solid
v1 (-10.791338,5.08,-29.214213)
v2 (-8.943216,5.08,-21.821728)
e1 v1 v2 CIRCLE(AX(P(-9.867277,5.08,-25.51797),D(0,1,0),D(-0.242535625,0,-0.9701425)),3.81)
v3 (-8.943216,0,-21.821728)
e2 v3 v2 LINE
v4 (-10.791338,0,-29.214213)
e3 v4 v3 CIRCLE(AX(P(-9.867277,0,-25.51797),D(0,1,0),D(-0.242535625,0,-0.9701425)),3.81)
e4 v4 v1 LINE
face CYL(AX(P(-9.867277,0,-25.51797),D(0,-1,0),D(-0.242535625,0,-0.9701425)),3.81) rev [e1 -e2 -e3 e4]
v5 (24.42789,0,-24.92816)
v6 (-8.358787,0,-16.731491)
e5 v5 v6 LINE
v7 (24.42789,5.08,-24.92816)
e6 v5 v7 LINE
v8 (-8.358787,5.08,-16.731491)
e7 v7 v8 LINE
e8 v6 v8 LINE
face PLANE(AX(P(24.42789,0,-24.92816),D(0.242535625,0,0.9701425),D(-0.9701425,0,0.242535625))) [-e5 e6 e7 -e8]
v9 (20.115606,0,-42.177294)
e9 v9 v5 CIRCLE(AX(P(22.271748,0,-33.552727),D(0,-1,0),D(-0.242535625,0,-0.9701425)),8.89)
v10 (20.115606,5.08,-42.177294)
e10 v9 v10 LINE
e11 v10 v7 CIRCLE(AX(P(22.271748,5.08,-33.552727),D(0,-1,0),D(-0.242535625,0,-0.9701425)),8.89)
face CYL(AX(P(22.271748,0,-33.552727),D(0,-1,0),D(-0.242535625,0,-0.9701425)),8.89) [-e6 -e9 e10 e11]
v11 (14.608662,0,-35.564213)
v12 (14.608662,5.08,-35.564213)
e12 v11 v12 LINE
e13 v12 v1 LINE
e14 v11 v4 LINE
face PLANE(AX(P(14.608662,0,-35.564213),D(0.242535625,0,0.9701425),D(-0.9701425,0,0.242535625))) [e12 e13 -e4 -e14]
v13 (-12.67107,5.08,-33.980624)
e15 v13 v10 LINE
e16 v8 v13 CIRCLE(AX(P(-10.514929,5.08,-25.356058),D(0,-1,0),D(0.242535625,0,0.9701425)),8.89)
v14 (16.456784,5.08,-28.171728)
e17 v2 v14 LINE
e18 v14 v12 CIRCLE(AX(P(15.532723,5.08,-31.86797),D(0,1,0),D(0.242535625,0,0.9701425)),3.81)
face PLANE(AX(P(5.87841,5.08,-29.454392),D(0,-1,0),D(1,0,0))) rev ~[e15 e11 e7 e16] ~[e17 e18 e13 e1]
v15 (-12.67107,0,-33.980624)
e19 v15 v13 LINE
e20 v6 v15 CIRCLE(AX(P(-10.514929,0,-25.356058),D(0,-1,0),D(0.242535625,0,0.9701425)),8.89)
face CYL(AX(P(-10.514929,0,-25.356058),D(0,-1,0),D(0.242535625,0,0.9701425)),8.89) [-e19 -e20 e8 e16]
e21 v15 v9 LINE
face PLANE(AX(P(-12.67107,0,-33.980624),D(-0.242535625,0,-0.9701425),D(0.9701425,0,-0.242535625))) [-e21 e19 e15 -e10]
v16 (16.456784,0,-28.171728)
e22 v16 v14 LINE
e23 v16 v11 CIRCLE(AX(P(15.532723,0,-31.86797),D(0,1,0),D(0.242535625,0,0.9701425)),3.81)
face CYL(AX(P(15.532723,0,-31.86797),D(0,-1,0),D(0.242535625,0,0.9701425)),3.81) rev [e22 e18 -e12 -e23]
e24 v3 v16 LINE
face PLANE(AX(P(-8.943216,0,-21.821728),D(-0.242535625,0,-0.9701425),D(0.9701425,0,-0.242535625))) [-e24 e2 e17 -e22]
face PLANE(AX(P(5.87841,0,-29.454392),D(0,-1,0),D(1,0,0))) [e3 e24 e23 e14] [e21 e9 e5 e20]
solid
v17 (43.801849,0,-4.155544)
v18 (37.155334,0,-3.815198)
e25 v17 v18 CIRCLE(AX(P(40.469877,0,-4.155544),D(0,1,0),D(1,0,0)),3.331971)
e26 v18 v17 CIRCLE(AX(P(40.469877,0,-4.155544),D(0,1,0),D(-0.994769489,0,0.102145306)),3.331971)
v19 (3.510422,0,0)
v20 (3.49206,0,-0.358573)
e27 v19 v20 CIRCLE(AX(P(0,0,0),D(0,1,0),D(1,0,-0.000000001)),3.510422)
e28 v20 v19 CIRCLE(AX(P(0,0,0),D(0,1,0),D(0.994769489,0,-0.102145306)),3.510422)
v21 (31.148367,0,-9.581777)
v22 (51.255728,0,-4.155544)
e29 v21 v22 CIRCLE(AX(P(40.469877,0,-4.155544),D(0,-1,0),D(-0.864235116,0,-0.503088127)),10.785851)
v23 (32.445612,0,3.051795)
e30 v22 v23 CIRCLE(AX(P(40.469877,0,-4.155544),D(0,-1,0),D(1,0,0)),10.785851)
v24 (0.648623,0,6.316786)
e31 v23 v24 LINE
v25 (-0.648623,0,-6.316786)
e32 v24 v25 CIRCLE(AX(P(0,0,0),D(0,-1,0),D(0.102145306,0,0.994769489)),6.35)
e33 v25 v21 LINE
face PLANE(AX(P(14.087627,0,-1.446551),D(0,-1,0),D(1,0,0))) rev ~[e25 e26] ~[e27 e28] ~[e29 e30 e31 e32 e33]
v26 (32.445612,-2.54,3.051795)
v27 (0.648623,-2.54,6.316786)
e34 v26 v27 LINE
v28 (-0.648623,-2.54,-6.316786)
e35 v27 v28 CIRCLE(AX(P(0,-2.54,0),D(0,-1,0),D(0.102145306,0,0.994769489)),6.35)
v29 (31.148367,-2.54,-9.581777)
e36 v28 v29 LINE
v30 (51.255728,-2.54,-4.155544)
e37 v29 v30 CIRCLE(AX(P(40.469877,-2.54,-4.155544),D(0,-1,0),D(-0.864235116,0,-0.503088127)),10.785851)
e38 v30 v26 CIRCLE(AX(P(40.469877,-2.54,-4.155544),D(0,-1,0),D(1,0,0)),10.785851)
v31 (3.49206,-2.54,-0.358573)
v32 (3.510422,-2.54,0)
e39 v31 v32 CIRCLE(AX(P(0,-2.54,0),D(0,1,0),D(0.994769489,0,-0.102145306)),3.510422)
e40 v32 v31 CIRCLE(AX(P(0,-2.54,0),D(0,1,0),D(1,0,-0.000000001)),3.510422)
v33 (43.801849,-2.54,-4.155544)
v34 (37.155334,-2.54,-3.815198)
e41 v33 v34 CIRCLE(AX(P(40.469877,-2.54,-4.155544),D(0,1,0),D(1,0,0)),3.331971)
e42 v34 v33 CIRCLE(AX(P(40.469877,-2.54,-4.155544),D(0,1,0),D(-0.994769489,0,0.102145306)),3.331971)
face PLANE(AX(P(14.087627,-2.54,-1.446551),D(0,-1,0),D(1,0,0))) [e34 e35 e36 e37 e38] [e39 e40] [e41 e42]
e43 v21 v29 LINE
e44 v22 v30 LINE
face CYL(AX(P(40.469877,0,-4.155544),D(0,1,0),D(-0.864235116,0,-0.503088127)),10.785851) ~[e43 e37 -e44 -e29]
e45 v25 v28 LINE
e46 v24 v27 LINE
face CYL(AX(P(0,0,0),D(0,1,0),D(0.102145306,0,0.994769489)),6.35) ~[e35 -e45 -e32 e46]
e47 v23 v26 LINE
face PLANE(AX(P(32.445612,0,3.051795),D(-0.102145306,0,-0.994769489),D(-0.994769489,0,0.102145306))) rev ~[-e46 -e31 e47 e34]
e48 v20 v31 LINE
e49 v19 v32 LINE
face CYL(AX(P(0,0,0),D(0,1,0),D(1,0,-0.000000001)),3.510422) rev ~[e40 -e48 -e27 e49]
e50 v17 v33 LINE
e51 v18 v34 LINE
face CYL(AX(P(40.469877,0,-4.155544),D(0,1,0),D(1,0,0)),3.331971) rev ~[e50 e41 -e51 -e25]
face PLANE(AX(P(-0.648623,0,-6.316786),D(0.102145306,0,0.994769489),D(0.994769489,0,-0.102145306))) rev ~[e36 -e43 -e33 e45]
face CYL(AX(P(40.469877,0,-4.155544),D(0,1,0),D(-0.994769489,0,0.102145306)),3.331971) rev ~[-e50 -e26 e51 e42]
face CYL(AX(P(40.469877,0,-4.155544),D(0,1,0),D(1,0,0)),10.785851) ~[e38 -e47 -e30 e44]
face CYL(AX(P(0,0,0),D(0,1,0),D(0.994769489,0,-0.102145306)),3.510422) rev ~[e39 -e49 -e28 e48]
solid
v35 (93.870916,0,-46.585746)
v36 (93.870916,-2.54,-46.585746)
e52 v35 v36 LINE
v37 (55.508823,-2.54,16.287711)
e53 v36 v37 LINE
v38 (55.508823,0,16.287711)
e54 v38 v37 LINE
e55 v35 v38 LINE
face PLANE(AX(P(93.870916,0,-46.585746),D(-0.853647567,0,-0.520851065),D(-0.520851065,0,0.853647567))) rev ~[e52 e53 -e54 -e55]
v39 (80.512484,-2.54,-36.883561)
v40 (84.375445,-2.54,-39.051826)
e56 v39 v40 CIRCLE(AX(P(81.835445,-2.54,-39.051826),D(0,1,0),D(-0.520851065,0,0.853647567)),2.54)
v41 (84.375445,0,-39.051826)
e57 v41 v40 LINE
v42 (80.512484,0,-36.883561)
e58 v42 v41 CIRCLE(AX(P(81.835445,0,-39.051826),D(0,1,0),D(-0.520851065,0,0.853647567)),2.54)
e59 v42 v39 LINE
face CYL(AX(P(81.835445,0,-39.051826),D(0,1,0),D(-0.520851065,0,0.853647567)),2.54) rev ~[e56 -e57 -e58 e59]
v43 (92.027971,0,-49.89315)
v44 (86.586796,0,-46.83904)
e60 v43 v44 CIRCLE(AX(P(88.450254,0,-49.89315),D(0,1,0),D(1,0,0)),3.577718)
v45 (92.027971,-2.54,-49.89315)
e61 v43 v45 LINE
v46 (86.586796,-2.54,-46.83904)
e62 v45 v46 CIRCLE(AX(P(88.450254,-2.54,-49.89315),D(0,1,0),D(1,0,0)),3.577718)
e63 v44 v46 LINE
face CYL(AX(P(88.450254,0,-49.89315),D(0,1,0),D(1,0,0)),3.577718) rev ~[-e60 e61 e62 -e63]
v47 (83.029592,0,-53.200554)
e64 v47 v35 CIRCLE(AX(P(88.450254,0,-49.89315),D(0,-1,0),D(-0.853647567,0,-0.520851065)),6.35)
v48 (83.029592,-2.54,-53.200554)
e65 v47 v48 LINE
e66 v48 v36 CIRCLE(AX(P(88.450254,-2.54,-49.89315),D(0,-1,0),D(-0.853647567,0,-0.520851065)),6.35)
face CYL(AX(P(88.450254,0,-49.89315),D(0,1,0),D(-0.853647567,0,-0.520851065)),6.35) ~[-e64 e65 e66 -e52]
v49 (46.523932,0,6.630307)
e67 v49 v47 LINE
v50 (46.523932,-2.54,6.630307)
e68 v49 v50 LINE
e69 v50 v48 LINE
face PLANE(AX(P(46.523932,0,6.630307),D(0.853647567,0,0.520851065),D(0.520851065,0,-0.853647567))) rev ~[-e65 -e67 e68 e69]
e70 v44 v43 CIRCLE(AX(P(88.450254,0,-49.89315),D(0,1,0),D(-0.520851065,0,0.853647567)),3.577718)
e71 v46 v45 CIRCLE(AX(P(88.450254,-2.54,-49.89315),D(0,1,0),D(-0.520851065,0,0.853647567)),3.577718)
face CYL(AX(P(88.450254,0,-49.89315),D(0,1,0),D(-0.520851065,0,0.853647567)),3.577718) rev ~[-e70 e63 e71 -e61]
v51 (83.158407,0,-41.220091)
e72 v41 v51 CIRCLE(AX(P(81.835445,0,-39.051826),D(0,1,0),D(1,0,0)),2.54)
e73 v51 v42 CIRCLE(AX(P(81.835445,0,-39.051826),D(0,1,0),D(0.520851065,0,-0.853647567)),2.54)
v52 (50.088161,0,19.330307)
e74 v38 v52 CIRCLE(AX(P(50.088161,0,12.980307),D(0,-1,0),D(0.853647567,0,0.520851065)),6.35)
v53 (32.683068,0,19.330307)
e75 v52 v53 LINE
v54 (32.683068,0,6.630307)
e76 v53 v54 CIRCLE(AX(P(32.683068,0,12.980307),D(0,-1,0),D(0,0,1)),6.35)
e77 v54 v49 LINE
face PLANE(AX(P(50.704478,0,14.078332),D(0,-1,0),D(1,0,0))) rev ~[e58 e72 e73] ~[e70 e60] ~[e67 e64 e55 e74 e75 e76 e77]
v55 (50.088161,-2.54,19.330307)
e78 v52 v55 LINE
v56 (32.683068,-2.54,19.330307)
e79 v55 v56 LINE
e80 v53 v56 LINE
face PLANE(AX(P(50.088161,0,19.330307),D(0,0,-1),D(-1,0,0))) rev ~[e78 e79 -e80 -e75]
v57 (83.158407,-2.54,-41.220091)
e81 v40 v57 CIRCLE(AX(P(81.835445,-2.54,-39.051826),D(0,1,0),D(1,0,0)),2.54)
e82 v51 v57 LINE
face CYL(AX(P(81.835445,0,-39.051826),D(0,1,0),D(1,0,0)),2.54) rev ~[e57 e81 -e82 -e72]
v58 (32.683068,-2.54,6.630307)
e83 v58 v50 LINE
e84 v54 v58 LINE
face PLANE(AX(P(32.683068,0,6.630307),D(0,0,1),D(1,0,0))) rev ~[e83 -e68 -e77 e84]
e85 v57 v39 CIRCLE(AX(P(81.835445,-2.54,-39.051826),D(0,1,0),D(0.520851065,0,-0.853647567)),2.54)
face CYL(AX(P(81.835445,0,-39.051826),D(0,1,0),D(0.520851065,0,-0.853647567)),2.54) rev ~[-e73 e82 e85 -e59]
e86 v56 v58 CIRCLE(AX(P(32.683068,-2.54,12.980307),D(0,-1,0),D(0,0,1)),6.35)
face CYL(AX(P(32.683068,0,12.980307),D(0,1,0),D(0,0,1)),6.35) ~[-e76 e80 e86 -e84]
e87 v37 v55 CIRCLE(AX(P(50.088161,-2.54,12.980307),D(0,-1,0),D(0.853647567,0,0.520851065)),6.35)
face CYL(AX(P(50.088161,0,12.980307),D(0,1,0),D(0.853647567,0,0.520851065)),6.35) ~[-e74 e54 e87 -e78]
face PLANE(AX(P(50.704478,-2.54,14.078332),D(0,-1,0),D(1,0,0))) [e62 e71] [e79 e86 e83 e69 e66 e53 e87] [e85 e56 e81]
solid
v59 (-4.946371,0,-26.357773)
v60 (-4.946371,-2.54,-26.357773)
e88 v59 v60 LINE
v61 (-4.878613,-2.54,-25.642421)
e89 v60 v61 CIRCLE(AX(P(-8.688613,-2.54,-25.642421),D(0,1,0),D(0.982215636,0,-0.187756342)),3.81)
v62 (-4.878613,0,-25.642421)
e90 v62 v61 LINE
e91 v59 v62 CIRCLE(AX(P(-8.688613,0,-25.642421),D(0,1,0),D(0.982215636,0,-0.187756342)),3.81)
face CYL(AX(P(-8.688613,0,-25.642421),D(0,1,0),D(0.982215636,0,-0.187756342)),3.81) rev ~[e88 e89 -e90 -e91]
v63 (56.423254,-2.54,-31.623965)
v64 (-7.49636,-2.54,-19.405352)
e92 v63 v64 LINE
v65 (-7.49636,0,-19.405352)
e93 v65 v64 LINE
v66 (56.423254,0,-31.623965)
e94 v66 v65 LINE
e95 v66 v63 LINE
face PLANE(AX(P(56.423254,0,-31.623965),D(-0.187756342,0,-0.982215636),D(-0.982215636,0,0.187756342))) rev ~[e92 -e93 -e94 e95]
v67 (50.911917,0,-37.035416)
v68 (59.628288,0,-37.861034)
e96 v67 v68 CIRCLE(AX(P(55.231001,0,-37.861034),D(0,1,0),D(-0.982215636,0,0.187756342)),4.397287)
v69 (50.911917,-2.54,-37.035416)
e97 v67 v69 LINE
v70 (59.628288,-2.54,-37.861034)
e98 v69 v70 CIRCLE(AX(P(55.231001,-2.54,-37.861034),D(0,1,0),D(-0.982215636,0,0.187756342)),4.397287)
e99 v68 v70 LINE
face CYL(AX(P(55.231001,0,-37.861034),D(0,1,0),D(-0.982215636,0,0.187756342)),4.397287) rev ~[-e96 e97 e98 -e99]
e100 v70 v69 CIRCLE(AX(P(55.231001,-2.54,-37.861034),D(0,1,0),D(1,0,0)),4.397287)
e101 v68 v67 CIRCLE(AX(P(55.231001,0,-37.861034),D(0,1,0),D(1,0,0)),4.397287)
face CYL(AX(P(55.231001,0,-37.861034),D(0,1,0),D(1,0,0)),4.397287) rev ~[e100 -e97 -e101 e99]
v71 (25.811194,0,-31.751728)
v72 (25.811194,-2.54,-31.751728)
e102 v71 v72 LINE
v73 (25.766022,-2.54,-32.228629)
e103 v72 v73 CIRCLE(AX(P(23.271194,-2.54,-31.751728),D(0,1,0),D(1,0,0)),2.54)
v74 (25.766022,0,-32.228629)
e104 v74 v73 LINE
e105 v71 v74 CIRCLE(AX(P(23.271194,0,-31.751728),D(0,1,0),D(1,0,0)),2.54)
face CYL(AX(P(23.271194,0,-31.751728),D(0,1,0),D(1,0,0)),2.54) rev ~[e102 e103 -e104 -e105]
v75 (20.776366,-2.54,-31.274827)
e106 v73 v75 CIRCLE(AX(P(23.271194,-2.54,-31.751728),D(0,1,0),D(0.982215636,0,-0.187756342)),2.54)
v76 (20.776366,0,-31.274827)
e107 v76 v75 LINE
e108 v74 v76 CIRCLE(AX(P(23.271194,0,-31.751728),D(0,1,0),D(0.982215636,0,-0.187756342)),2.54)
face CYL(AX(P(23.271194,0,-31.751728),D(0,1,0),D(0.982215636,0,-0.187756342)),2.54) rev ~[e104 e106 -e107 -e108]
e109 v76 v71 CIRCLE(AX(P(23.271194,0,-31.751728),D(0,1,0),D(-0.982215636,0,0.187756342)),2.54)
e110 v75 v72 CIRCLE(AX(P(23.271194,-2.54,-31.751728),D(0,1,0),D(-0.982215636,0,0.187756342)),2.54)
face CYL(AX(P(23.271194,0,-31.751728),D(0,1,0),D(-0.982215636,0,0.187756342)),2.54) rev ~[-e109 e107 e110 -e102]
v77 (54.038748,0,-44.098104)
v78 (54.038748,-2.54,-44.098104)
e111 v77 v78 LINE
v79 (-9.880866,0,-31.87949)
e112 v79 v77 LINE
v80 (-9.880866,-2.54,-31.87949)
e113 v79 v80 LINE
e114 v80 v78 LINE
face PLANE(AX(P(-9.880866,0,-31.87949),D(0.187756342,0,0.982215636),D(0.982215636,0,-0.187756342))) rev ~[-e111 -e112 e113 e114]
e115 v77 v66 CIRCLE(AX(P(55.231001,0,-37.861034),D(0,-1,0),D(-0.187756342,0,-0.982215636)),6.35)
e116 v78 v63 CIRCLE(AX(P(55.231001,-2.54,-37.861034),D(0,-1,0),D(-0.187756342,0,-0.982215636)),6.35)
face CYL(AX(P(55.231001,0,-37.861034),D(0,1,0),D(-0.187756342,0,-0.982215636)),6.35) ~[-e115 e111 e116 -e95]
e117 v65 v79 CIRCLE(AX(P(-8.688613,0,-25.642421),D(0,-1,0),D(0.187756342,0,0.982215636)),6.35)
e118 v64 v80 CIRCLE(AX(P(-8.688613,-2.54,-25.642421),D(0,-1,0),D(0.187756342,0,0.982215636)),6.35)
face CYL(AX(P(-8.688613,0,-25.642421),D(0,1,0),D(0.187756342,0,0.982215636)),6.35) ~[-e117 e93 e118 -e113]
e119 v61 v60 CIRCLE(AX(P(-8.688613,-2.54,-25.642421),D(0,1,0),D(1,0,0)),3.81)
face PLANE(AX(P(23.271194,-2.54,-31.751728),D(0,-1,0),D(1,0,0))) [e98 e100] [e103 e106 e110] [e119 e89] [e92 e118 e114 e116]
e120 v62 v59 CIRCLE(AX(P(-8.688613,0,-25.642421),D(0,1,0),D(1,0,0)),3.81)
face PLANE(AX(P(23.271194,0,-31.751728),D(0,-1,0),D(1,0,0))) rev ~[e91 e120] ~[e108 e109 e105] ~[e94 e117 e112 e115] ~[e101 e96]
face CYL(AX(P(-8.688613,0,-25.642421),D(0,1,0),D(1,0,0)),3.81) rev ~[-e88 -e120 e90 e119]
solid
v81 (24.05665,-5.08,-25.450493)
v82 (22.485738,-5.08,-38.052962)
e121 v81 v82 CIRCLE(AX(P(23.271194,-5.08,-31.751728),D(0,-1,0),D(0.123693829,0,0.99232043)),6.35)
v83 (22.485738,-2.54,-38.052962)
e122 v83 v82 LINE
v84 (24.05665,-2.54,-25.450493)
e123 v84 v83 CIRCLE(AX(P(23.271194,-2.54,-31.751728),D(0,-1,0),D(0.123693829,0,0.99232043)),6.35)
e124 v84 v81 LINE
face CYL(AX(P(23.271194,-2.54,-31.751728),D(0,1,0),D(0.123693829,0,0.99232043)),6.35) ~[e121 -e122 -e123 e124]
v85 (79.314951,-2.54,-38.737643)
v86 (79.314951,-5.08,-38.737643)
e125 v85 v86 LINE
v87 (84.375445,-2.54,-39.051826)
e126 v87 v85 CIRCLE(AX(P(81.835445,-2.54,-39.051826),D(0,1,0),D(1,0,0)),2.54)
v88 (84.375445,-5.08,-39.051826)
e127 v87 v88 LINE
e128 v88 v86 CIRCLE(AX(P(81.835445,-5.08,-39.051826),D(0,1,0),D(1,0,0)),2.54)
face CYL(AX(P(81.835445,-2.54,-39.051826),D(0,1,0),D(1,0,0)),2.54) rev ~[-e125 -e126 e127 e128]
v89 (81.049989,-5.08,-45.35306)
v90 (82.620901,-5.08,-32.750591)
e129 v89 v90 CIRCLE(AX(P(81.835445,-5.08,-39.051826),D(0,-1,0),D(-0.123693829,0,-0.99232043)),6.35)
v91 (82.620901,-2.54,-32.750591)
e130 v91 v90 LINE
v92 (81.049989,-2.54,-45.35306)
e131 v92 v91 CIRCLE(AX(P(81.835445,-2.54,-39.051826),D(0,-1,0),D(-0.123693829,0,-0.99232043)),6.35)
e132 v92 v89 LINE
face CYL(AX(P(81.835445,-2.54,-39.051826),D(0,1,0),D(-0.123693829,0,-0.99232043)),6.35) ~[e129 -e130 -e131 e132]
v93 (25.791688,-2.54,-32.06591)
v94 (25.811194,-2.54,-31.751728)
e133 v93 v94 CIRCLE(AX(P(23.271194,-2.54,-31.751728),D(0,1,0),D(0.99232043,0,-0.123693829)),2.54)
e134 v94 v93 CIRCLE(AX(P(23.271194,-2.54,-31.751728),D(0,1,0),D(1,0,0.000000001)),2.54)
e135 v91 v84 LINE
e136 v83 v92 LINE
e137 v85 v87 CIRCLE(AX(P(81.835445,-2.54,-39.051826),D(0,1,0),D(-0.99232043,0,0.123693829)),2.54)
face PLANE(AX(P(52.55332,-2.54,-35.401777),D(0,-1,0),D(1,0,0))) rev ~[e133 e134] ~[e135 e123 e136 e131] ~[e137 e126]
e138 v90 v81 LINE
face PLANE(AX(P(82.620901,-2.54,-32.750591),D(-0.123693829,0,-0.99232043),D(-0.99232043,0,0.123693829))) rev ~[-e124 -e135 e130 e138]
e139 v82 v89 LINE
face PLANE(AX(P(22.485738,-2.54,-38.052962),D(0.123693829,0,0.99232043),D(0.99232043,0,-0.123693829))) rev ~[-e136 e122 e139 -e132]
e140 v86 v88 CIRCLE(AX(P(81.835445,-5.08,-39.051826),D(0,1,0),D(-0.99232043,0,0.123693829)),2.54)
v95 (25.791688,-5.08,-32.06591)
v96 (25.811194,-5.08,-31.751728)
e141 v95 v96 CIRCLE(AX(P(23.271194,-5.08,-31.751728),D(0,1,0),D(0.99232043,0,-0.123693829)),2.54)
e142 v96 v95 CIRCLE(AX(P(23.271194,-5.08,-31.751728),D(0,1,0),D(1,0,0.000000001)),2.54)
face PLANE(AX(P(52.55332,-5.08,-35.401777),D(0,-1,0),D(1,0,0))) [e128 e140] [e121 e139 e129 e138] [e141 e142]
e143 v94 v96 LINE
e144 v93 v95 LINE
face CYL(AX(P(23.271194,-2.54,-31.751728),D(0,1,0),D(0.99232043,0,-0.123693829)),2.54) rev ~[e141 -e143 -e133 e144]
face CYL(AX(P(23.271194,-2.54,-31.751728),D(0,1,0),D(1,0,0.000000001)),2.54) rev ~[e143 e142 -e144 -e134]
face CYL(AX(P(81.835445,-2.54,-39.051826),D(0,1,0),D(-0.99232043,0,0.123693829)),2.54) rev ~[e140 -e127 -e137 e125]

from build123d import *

# Parameters (mm, degrees)
F1_DEPTH = 2.54
F3_DEPTH = 5.08
F5_DEPTH = 2.54
F7_DEPTH = 2.54


with BuildPart() as f1:
    # F0 (on Front) → F1 (new body)
    with BuildSketch(Plane.XZ):
        with BuildLine():
            ThreePointArc((31.1483665572, -9.5817770253), (29.9264593037, -6.4295066964), (29.7404423096, -3.0538196197))
            ThreePointArc((29.7404423096, -3.0538196197), (30.6085917345, 0.2136231324), (32.4456119445, 3.0517954863))
            Line((32.4456119445, 3.0517954863), (0.6486226936, 6.3167862558))
            ThreePointArc((0.6486226936, 6.3167862558), (-6.3167862558, 0.6486226936), (-0.6486226936, -6.3167862558))
            Line((-0.6486226936, -6.3167862558), (31.1483665572, -9.5817770253))
        make_face()
        with BuildLine():
            ThreePointArc((3.5104216462, 0), (3.5058283163, -0.1795214477), (3.4920603475, -0.3585730935))
            ThreePointArc((3.4920603475, -0.3585730935), (-3.5058283163, 0.1795214477), (3.5104216462, 0))
        make_face(mode=Mode.SUBTRACT)
        with BuildLine():
            ThreePointArc((32.4456119445, 3.0517954863), (30.6085917345, 0.2136231324), (29.7404423096, -3.0538196197))
            ThreePointArc((29.7404423096, -3.0538196197), (29.9264593037, -6.4295066964), (31.1483665572, -9.5817770253))
            Line((31.1483665572, -9.5817770253), (39.8212547282, -10.4723298886))
            ThreePointArc((39.8212547282, -10.4723298886), (46.7866636776, -4.8041663265), (41.1185001155, 2.161242623))
            Line((41.1185001155, 2.161242623), (32.4456119445, 3.0517954863))
        make_face()
        with BuildLine():
            ThreePointArc((43.8018488142, -4.1555436328), (40.2994818431, -7.4831551945), (37.1553339422, -3.8151983951))
            ThreePointArc((37.1553339422, -3.8151983951), (40.6402730006, -0.8279320711), (43.8018488142, -4.1555436328))
        make_face(mode=Mode.SUBTRACT)
        with BuildLine():
            ThreePointArc((51.2557280433, -4.1555436328), (44.3290253099, 5.9162760244), (32.4456119445, 3.0517954863))
            Line((32.4456119445, 3.0517954863), (41.1185001155, 2.161242623))
            ThreePointArc((41.1185001155, 2.161242623), (46.7866636776, -4.8041663265), (39.8212547282, -10.4723298886))
            Line((39.8212547282, -10.4723298886), (31.1483665572, -9.5817770253))
            ThreePointArc((31.1483665572, -9.5817770253), (43.280050893, -14.5688763698), (51.2557280433, -4.1555436328))
        make_face()
    extrude(amount=F1_DEPTH)


with BuildPart() as f1b:
    # F0 (on Front) → F1, piece 2 (new body)
    with BuildSketch(Plane.XZ):
        with BuildLine():
            ThreePointArc((-7.4963600697, -19.4053518065), (-14.9256821311, -24.4501683252), (-9.8808656124, -31.8794903866))
            Line((-9.8808656124, -31.8794903866), (54.0387484568, -44.0981035642))
            ThreePointArc((54.0387484568, -44.0981035642), (61.4680705182, -39.0532870454), (56.4232539994, -31.623964984))
            Line((56.4232539994, -31.623964984), (-7.4963600697, -19.4053518065))
        make_face()
        with BuildLine():
            ThreePointArc((-4.8786128411, -25.6424210966), (-4.8955902734, -26.0016978721), (-4.946371267, -26.3577727594))
            ThreePointArc((-4.946371267, -26.3577727594), (-12.4816354087, -25.283144321), (-4.8786128411, -25.6424210966))
        make_face(mode=Mode.SUBTRACT)
        with BuildLine():
            ThreePointArc((25.7660219095, -32.2286287939), (22.794293085, -34.2465554014), (20.7763664775, -31.2748265768))
            ThreePointArc((20.7763664775, -31.2748265768), (23.5107120439, -29.2230459736), (25.8111941935, -31.7517276853))
            ThreePointArc((25.8111941935, -31.7517276853), (25.7998759053, -31.9912455357), (25.7660219095, -32.2286287939))
        make_face(mode=Mode.SUBTRACT)
        with BuildLine():
            ThreePointArc((59.6282880018, -37.8610342741), (54.8163442693, -42.2387266545), (50.9119174019, -37.035415795))
            ThreePointArc((50.9119174019, -37.035415795), (55.6456581869, -33.4833418937), (59.6282880018, -37.8610342741))
        make_face(mode=Mode.SUBTRACT)
    extrude(amount=F1_DEPTH)


with BuildPart() as f3:
    # F2 (on Front) → F3 (new body)
    with BuildSketch(Plane.XZ):
        with BuildLine():
            ThreePointArc((20.1156061917, -42.1772935621), (30.8963147246, -35.7088684423), (24.4278896049, -24.9281599095))
            Line((24.4278896049, -24.9281599095), (-8.3587867976, -16.7314908088))
            ThreePointArc((-8.3587867976, -16.7314908088), (-19.1394953305, -23.1999159286), (-12.6710702108, -33.9806244614))
            Line((-12.6710702108, -33.9806244614), (20.1156061917, -42.1772935621))
        make_face()
        with BuildLine():
            Line((14.6086621042, -35.5642133956), (-10.7913378958, -29.2142133956))
            ThreePointArc((-10.7913378958, -29.2142133956), (-13.56352009, -24.5939097387), (-8.943216433, -21.8217275445))
            Line((-8.943216433, -21.8217275445), (16.456783567, -28.1717275445))
            ThreePointArc((16.456783567, -28.1717275445), (19.2289657611, -32.7920312015), (14.6086621042, -35.5642133956))
        make_face(mode=Mode.SUBTRACT)
    extrude(amount=-F3_DEPTH)


with BuildPart() as f5:
    # F4 (on Front) → F5 (new body)
    with BuildSketch(Plane.XZ):
        with BuildLine():
            ThreePointArc((50.0881612421, 19.3303069887), (45.5980331816, 17.4704350492), (43.7381612421, 12.9803069887))
            Line((43.7381612421, 12.9803069887), (50.0881612421, 12.9803069887))
            Line((50.0881612421, 12.9803069887), (53.3955655031, 7.5596449392))
            ThreePointArc((53.3955655031, 7.5596449392), (56.2598361169, 11.486008076), (55.5088232916, 16.2877112497))
            ThreePointArc((55.5088232916, 16.2877112497), (53.1962541416, 18.5176582082), (50.0881612421, 19.3303069887))
        make_face()
        with BuildLine():
            Line((50.0881612421, 12.9803069887), (43.7381612421, 12.9803069887))
            ThreePointArc((43.7381612421, 12.9803069887), (43.9749090793, 11.2625619573), (44.6674991927, 9.6729027277))
            Line((44.6674991927, 9.6729027277), (46.5239318608, 6.6303069887))
            Line((46.5239318608, 6.6303069887), (50.0881612421, 6.6303069887))
            ThreePointArc((50.0881612421, 6.6303069887), (51.8059062736, 6.8670548258), (53.3955655031, 7.5596449392))
            Line((53.3955655031, 7.5596449392), (50.0881612421, 12.9803069887))
        make_face()
        with BuildLine():
            ThreePointArc((44.6674991927, 9.6729027277), (43.9749090793, 11.2625619573), (43.7381612421, 12.9803069887))
            ThreePointArc((43.7381612421, 12.9803069887), (45.5980331816, 17.4704350492), (50.0881612421, 19.3303069887))
            Line((50.0881612421, 19.3303069887), (32.6830678845, 19.3303069887))
            ThreePointArc((32.6830678845, 19.3303069887), (26.3330678845, 12.9803069887), (32.6830678845, 6.6303069887))
            Line((32.6830678845, 6.6303069887), (46.5239318608, 6.6303069887))
            Line((46.5239318608, 6.6303069887), (44.6674991927, 9.6729027277))
        make_face()
        with BuildLine():
            ThreePointArc((55.5088232916, 16.2877112497), (56.2598361169, 11.486008076), (53.3955655031, 7.5596449392))
            ThreePointArc((53.3955655031, 7.5596449392), (51.8059062736, 6.8670548258), (50.0881612421, 6.6303069887))
            Line((50.0881612421, 6.6303069887), (46.5239318608, 6.6303069887))
            Line((46.5239318608, 6.6303069887), (83.0295916951, -53.2005540856))
            ThreePointArc((83.0295916951, -53.2005540856), (91.7576580055, -55.3138118741), (93.870915794, -46.5857455637))
            Line((93.870915794, -46.5857455637), (55.5088232916, 16.2877112497))
        make_face()
        with BuildLine():
            ThreePointArc((92.0279713809, -49.8931498246), (86.6990917317, -53.0130048037), (86.5867957044, -46.8390398695))
            ThreePointArc((86.5867957044, -46.8390398695), (90.2014157574, -46.7732948456), (92.0279713809, -49.8931498246))
        make_face(mode=Mode.SUBTRACT)
        with BuildLine():
            ThreePointArc((83.158406927, -41.2200905455), (79.6671804029, -40.3747874301), (80.5124835183, -36.8835609059))
            ThreePointArc((80.5124835183, -36.8835609059), (83.0786823824, -36.8368852379), (84.3754452226, -39.0518257257))
            ThreePointArc((84.3754452226, -39.0518257257), (84.0503857105, -40.2950628855), (83.158406927, -41.2200905455))
        make_face(mode=Mode.SUBTRACT)
    extrude(amount=F5_DEPTH)


with BuildPart() as f7:
    # F6 (on face) → F7 (new body)
    with BuildSketch(Plane.XZ.offset(2.54)):
        with BuildLine():
            ThreePointArc((24.0566500052, -25.4504929517), (16.9699594599, -30.9662718736), (22.4857383818, -38.0529624189))
            Line((22.4857383818, -38.0529624189), (81.0499894109, -45.3530604593))
            ThreePointArc((81.0499894109, -45.3530604593), (88.1366799562, -39.8372815374), (82.6209010344, -32.7505909921))
            Line((82.6209010344, -32.7505909921), (24.0566500052, -25.4504929517))
        make_face()
        with BuildLine():
            ThreePointArc((84.3754452226, -39.0518257257), (81.6780515908, -41.5869445088), (79.3149513292, -38.737643401))
            ThreePointArc((79.3149513292, -38.737643401), (81.9928388545, -36.5167069425), (84.3754452226, -39.0518257257))
        make_face(mode=Mode.SUBTRACT)
        with BuildLine():
            ThreePointArc((25.8111941935, -31.7517276853), (25.8063129767, -31.9091213171), (25.7916880869, -32.06591001))
            ThreePointArc((25.7916880869, -32.06591001), (20.7360754104, -31.5943340535), (25.8111941935, -31.7517276853))
        make_face(mode=Mode.SUBTRACT)
    extrude(amount=F7_DEPTH)


solid = Compound([f1.part, f1b.part, f3.part, f5.part, f7.part])
